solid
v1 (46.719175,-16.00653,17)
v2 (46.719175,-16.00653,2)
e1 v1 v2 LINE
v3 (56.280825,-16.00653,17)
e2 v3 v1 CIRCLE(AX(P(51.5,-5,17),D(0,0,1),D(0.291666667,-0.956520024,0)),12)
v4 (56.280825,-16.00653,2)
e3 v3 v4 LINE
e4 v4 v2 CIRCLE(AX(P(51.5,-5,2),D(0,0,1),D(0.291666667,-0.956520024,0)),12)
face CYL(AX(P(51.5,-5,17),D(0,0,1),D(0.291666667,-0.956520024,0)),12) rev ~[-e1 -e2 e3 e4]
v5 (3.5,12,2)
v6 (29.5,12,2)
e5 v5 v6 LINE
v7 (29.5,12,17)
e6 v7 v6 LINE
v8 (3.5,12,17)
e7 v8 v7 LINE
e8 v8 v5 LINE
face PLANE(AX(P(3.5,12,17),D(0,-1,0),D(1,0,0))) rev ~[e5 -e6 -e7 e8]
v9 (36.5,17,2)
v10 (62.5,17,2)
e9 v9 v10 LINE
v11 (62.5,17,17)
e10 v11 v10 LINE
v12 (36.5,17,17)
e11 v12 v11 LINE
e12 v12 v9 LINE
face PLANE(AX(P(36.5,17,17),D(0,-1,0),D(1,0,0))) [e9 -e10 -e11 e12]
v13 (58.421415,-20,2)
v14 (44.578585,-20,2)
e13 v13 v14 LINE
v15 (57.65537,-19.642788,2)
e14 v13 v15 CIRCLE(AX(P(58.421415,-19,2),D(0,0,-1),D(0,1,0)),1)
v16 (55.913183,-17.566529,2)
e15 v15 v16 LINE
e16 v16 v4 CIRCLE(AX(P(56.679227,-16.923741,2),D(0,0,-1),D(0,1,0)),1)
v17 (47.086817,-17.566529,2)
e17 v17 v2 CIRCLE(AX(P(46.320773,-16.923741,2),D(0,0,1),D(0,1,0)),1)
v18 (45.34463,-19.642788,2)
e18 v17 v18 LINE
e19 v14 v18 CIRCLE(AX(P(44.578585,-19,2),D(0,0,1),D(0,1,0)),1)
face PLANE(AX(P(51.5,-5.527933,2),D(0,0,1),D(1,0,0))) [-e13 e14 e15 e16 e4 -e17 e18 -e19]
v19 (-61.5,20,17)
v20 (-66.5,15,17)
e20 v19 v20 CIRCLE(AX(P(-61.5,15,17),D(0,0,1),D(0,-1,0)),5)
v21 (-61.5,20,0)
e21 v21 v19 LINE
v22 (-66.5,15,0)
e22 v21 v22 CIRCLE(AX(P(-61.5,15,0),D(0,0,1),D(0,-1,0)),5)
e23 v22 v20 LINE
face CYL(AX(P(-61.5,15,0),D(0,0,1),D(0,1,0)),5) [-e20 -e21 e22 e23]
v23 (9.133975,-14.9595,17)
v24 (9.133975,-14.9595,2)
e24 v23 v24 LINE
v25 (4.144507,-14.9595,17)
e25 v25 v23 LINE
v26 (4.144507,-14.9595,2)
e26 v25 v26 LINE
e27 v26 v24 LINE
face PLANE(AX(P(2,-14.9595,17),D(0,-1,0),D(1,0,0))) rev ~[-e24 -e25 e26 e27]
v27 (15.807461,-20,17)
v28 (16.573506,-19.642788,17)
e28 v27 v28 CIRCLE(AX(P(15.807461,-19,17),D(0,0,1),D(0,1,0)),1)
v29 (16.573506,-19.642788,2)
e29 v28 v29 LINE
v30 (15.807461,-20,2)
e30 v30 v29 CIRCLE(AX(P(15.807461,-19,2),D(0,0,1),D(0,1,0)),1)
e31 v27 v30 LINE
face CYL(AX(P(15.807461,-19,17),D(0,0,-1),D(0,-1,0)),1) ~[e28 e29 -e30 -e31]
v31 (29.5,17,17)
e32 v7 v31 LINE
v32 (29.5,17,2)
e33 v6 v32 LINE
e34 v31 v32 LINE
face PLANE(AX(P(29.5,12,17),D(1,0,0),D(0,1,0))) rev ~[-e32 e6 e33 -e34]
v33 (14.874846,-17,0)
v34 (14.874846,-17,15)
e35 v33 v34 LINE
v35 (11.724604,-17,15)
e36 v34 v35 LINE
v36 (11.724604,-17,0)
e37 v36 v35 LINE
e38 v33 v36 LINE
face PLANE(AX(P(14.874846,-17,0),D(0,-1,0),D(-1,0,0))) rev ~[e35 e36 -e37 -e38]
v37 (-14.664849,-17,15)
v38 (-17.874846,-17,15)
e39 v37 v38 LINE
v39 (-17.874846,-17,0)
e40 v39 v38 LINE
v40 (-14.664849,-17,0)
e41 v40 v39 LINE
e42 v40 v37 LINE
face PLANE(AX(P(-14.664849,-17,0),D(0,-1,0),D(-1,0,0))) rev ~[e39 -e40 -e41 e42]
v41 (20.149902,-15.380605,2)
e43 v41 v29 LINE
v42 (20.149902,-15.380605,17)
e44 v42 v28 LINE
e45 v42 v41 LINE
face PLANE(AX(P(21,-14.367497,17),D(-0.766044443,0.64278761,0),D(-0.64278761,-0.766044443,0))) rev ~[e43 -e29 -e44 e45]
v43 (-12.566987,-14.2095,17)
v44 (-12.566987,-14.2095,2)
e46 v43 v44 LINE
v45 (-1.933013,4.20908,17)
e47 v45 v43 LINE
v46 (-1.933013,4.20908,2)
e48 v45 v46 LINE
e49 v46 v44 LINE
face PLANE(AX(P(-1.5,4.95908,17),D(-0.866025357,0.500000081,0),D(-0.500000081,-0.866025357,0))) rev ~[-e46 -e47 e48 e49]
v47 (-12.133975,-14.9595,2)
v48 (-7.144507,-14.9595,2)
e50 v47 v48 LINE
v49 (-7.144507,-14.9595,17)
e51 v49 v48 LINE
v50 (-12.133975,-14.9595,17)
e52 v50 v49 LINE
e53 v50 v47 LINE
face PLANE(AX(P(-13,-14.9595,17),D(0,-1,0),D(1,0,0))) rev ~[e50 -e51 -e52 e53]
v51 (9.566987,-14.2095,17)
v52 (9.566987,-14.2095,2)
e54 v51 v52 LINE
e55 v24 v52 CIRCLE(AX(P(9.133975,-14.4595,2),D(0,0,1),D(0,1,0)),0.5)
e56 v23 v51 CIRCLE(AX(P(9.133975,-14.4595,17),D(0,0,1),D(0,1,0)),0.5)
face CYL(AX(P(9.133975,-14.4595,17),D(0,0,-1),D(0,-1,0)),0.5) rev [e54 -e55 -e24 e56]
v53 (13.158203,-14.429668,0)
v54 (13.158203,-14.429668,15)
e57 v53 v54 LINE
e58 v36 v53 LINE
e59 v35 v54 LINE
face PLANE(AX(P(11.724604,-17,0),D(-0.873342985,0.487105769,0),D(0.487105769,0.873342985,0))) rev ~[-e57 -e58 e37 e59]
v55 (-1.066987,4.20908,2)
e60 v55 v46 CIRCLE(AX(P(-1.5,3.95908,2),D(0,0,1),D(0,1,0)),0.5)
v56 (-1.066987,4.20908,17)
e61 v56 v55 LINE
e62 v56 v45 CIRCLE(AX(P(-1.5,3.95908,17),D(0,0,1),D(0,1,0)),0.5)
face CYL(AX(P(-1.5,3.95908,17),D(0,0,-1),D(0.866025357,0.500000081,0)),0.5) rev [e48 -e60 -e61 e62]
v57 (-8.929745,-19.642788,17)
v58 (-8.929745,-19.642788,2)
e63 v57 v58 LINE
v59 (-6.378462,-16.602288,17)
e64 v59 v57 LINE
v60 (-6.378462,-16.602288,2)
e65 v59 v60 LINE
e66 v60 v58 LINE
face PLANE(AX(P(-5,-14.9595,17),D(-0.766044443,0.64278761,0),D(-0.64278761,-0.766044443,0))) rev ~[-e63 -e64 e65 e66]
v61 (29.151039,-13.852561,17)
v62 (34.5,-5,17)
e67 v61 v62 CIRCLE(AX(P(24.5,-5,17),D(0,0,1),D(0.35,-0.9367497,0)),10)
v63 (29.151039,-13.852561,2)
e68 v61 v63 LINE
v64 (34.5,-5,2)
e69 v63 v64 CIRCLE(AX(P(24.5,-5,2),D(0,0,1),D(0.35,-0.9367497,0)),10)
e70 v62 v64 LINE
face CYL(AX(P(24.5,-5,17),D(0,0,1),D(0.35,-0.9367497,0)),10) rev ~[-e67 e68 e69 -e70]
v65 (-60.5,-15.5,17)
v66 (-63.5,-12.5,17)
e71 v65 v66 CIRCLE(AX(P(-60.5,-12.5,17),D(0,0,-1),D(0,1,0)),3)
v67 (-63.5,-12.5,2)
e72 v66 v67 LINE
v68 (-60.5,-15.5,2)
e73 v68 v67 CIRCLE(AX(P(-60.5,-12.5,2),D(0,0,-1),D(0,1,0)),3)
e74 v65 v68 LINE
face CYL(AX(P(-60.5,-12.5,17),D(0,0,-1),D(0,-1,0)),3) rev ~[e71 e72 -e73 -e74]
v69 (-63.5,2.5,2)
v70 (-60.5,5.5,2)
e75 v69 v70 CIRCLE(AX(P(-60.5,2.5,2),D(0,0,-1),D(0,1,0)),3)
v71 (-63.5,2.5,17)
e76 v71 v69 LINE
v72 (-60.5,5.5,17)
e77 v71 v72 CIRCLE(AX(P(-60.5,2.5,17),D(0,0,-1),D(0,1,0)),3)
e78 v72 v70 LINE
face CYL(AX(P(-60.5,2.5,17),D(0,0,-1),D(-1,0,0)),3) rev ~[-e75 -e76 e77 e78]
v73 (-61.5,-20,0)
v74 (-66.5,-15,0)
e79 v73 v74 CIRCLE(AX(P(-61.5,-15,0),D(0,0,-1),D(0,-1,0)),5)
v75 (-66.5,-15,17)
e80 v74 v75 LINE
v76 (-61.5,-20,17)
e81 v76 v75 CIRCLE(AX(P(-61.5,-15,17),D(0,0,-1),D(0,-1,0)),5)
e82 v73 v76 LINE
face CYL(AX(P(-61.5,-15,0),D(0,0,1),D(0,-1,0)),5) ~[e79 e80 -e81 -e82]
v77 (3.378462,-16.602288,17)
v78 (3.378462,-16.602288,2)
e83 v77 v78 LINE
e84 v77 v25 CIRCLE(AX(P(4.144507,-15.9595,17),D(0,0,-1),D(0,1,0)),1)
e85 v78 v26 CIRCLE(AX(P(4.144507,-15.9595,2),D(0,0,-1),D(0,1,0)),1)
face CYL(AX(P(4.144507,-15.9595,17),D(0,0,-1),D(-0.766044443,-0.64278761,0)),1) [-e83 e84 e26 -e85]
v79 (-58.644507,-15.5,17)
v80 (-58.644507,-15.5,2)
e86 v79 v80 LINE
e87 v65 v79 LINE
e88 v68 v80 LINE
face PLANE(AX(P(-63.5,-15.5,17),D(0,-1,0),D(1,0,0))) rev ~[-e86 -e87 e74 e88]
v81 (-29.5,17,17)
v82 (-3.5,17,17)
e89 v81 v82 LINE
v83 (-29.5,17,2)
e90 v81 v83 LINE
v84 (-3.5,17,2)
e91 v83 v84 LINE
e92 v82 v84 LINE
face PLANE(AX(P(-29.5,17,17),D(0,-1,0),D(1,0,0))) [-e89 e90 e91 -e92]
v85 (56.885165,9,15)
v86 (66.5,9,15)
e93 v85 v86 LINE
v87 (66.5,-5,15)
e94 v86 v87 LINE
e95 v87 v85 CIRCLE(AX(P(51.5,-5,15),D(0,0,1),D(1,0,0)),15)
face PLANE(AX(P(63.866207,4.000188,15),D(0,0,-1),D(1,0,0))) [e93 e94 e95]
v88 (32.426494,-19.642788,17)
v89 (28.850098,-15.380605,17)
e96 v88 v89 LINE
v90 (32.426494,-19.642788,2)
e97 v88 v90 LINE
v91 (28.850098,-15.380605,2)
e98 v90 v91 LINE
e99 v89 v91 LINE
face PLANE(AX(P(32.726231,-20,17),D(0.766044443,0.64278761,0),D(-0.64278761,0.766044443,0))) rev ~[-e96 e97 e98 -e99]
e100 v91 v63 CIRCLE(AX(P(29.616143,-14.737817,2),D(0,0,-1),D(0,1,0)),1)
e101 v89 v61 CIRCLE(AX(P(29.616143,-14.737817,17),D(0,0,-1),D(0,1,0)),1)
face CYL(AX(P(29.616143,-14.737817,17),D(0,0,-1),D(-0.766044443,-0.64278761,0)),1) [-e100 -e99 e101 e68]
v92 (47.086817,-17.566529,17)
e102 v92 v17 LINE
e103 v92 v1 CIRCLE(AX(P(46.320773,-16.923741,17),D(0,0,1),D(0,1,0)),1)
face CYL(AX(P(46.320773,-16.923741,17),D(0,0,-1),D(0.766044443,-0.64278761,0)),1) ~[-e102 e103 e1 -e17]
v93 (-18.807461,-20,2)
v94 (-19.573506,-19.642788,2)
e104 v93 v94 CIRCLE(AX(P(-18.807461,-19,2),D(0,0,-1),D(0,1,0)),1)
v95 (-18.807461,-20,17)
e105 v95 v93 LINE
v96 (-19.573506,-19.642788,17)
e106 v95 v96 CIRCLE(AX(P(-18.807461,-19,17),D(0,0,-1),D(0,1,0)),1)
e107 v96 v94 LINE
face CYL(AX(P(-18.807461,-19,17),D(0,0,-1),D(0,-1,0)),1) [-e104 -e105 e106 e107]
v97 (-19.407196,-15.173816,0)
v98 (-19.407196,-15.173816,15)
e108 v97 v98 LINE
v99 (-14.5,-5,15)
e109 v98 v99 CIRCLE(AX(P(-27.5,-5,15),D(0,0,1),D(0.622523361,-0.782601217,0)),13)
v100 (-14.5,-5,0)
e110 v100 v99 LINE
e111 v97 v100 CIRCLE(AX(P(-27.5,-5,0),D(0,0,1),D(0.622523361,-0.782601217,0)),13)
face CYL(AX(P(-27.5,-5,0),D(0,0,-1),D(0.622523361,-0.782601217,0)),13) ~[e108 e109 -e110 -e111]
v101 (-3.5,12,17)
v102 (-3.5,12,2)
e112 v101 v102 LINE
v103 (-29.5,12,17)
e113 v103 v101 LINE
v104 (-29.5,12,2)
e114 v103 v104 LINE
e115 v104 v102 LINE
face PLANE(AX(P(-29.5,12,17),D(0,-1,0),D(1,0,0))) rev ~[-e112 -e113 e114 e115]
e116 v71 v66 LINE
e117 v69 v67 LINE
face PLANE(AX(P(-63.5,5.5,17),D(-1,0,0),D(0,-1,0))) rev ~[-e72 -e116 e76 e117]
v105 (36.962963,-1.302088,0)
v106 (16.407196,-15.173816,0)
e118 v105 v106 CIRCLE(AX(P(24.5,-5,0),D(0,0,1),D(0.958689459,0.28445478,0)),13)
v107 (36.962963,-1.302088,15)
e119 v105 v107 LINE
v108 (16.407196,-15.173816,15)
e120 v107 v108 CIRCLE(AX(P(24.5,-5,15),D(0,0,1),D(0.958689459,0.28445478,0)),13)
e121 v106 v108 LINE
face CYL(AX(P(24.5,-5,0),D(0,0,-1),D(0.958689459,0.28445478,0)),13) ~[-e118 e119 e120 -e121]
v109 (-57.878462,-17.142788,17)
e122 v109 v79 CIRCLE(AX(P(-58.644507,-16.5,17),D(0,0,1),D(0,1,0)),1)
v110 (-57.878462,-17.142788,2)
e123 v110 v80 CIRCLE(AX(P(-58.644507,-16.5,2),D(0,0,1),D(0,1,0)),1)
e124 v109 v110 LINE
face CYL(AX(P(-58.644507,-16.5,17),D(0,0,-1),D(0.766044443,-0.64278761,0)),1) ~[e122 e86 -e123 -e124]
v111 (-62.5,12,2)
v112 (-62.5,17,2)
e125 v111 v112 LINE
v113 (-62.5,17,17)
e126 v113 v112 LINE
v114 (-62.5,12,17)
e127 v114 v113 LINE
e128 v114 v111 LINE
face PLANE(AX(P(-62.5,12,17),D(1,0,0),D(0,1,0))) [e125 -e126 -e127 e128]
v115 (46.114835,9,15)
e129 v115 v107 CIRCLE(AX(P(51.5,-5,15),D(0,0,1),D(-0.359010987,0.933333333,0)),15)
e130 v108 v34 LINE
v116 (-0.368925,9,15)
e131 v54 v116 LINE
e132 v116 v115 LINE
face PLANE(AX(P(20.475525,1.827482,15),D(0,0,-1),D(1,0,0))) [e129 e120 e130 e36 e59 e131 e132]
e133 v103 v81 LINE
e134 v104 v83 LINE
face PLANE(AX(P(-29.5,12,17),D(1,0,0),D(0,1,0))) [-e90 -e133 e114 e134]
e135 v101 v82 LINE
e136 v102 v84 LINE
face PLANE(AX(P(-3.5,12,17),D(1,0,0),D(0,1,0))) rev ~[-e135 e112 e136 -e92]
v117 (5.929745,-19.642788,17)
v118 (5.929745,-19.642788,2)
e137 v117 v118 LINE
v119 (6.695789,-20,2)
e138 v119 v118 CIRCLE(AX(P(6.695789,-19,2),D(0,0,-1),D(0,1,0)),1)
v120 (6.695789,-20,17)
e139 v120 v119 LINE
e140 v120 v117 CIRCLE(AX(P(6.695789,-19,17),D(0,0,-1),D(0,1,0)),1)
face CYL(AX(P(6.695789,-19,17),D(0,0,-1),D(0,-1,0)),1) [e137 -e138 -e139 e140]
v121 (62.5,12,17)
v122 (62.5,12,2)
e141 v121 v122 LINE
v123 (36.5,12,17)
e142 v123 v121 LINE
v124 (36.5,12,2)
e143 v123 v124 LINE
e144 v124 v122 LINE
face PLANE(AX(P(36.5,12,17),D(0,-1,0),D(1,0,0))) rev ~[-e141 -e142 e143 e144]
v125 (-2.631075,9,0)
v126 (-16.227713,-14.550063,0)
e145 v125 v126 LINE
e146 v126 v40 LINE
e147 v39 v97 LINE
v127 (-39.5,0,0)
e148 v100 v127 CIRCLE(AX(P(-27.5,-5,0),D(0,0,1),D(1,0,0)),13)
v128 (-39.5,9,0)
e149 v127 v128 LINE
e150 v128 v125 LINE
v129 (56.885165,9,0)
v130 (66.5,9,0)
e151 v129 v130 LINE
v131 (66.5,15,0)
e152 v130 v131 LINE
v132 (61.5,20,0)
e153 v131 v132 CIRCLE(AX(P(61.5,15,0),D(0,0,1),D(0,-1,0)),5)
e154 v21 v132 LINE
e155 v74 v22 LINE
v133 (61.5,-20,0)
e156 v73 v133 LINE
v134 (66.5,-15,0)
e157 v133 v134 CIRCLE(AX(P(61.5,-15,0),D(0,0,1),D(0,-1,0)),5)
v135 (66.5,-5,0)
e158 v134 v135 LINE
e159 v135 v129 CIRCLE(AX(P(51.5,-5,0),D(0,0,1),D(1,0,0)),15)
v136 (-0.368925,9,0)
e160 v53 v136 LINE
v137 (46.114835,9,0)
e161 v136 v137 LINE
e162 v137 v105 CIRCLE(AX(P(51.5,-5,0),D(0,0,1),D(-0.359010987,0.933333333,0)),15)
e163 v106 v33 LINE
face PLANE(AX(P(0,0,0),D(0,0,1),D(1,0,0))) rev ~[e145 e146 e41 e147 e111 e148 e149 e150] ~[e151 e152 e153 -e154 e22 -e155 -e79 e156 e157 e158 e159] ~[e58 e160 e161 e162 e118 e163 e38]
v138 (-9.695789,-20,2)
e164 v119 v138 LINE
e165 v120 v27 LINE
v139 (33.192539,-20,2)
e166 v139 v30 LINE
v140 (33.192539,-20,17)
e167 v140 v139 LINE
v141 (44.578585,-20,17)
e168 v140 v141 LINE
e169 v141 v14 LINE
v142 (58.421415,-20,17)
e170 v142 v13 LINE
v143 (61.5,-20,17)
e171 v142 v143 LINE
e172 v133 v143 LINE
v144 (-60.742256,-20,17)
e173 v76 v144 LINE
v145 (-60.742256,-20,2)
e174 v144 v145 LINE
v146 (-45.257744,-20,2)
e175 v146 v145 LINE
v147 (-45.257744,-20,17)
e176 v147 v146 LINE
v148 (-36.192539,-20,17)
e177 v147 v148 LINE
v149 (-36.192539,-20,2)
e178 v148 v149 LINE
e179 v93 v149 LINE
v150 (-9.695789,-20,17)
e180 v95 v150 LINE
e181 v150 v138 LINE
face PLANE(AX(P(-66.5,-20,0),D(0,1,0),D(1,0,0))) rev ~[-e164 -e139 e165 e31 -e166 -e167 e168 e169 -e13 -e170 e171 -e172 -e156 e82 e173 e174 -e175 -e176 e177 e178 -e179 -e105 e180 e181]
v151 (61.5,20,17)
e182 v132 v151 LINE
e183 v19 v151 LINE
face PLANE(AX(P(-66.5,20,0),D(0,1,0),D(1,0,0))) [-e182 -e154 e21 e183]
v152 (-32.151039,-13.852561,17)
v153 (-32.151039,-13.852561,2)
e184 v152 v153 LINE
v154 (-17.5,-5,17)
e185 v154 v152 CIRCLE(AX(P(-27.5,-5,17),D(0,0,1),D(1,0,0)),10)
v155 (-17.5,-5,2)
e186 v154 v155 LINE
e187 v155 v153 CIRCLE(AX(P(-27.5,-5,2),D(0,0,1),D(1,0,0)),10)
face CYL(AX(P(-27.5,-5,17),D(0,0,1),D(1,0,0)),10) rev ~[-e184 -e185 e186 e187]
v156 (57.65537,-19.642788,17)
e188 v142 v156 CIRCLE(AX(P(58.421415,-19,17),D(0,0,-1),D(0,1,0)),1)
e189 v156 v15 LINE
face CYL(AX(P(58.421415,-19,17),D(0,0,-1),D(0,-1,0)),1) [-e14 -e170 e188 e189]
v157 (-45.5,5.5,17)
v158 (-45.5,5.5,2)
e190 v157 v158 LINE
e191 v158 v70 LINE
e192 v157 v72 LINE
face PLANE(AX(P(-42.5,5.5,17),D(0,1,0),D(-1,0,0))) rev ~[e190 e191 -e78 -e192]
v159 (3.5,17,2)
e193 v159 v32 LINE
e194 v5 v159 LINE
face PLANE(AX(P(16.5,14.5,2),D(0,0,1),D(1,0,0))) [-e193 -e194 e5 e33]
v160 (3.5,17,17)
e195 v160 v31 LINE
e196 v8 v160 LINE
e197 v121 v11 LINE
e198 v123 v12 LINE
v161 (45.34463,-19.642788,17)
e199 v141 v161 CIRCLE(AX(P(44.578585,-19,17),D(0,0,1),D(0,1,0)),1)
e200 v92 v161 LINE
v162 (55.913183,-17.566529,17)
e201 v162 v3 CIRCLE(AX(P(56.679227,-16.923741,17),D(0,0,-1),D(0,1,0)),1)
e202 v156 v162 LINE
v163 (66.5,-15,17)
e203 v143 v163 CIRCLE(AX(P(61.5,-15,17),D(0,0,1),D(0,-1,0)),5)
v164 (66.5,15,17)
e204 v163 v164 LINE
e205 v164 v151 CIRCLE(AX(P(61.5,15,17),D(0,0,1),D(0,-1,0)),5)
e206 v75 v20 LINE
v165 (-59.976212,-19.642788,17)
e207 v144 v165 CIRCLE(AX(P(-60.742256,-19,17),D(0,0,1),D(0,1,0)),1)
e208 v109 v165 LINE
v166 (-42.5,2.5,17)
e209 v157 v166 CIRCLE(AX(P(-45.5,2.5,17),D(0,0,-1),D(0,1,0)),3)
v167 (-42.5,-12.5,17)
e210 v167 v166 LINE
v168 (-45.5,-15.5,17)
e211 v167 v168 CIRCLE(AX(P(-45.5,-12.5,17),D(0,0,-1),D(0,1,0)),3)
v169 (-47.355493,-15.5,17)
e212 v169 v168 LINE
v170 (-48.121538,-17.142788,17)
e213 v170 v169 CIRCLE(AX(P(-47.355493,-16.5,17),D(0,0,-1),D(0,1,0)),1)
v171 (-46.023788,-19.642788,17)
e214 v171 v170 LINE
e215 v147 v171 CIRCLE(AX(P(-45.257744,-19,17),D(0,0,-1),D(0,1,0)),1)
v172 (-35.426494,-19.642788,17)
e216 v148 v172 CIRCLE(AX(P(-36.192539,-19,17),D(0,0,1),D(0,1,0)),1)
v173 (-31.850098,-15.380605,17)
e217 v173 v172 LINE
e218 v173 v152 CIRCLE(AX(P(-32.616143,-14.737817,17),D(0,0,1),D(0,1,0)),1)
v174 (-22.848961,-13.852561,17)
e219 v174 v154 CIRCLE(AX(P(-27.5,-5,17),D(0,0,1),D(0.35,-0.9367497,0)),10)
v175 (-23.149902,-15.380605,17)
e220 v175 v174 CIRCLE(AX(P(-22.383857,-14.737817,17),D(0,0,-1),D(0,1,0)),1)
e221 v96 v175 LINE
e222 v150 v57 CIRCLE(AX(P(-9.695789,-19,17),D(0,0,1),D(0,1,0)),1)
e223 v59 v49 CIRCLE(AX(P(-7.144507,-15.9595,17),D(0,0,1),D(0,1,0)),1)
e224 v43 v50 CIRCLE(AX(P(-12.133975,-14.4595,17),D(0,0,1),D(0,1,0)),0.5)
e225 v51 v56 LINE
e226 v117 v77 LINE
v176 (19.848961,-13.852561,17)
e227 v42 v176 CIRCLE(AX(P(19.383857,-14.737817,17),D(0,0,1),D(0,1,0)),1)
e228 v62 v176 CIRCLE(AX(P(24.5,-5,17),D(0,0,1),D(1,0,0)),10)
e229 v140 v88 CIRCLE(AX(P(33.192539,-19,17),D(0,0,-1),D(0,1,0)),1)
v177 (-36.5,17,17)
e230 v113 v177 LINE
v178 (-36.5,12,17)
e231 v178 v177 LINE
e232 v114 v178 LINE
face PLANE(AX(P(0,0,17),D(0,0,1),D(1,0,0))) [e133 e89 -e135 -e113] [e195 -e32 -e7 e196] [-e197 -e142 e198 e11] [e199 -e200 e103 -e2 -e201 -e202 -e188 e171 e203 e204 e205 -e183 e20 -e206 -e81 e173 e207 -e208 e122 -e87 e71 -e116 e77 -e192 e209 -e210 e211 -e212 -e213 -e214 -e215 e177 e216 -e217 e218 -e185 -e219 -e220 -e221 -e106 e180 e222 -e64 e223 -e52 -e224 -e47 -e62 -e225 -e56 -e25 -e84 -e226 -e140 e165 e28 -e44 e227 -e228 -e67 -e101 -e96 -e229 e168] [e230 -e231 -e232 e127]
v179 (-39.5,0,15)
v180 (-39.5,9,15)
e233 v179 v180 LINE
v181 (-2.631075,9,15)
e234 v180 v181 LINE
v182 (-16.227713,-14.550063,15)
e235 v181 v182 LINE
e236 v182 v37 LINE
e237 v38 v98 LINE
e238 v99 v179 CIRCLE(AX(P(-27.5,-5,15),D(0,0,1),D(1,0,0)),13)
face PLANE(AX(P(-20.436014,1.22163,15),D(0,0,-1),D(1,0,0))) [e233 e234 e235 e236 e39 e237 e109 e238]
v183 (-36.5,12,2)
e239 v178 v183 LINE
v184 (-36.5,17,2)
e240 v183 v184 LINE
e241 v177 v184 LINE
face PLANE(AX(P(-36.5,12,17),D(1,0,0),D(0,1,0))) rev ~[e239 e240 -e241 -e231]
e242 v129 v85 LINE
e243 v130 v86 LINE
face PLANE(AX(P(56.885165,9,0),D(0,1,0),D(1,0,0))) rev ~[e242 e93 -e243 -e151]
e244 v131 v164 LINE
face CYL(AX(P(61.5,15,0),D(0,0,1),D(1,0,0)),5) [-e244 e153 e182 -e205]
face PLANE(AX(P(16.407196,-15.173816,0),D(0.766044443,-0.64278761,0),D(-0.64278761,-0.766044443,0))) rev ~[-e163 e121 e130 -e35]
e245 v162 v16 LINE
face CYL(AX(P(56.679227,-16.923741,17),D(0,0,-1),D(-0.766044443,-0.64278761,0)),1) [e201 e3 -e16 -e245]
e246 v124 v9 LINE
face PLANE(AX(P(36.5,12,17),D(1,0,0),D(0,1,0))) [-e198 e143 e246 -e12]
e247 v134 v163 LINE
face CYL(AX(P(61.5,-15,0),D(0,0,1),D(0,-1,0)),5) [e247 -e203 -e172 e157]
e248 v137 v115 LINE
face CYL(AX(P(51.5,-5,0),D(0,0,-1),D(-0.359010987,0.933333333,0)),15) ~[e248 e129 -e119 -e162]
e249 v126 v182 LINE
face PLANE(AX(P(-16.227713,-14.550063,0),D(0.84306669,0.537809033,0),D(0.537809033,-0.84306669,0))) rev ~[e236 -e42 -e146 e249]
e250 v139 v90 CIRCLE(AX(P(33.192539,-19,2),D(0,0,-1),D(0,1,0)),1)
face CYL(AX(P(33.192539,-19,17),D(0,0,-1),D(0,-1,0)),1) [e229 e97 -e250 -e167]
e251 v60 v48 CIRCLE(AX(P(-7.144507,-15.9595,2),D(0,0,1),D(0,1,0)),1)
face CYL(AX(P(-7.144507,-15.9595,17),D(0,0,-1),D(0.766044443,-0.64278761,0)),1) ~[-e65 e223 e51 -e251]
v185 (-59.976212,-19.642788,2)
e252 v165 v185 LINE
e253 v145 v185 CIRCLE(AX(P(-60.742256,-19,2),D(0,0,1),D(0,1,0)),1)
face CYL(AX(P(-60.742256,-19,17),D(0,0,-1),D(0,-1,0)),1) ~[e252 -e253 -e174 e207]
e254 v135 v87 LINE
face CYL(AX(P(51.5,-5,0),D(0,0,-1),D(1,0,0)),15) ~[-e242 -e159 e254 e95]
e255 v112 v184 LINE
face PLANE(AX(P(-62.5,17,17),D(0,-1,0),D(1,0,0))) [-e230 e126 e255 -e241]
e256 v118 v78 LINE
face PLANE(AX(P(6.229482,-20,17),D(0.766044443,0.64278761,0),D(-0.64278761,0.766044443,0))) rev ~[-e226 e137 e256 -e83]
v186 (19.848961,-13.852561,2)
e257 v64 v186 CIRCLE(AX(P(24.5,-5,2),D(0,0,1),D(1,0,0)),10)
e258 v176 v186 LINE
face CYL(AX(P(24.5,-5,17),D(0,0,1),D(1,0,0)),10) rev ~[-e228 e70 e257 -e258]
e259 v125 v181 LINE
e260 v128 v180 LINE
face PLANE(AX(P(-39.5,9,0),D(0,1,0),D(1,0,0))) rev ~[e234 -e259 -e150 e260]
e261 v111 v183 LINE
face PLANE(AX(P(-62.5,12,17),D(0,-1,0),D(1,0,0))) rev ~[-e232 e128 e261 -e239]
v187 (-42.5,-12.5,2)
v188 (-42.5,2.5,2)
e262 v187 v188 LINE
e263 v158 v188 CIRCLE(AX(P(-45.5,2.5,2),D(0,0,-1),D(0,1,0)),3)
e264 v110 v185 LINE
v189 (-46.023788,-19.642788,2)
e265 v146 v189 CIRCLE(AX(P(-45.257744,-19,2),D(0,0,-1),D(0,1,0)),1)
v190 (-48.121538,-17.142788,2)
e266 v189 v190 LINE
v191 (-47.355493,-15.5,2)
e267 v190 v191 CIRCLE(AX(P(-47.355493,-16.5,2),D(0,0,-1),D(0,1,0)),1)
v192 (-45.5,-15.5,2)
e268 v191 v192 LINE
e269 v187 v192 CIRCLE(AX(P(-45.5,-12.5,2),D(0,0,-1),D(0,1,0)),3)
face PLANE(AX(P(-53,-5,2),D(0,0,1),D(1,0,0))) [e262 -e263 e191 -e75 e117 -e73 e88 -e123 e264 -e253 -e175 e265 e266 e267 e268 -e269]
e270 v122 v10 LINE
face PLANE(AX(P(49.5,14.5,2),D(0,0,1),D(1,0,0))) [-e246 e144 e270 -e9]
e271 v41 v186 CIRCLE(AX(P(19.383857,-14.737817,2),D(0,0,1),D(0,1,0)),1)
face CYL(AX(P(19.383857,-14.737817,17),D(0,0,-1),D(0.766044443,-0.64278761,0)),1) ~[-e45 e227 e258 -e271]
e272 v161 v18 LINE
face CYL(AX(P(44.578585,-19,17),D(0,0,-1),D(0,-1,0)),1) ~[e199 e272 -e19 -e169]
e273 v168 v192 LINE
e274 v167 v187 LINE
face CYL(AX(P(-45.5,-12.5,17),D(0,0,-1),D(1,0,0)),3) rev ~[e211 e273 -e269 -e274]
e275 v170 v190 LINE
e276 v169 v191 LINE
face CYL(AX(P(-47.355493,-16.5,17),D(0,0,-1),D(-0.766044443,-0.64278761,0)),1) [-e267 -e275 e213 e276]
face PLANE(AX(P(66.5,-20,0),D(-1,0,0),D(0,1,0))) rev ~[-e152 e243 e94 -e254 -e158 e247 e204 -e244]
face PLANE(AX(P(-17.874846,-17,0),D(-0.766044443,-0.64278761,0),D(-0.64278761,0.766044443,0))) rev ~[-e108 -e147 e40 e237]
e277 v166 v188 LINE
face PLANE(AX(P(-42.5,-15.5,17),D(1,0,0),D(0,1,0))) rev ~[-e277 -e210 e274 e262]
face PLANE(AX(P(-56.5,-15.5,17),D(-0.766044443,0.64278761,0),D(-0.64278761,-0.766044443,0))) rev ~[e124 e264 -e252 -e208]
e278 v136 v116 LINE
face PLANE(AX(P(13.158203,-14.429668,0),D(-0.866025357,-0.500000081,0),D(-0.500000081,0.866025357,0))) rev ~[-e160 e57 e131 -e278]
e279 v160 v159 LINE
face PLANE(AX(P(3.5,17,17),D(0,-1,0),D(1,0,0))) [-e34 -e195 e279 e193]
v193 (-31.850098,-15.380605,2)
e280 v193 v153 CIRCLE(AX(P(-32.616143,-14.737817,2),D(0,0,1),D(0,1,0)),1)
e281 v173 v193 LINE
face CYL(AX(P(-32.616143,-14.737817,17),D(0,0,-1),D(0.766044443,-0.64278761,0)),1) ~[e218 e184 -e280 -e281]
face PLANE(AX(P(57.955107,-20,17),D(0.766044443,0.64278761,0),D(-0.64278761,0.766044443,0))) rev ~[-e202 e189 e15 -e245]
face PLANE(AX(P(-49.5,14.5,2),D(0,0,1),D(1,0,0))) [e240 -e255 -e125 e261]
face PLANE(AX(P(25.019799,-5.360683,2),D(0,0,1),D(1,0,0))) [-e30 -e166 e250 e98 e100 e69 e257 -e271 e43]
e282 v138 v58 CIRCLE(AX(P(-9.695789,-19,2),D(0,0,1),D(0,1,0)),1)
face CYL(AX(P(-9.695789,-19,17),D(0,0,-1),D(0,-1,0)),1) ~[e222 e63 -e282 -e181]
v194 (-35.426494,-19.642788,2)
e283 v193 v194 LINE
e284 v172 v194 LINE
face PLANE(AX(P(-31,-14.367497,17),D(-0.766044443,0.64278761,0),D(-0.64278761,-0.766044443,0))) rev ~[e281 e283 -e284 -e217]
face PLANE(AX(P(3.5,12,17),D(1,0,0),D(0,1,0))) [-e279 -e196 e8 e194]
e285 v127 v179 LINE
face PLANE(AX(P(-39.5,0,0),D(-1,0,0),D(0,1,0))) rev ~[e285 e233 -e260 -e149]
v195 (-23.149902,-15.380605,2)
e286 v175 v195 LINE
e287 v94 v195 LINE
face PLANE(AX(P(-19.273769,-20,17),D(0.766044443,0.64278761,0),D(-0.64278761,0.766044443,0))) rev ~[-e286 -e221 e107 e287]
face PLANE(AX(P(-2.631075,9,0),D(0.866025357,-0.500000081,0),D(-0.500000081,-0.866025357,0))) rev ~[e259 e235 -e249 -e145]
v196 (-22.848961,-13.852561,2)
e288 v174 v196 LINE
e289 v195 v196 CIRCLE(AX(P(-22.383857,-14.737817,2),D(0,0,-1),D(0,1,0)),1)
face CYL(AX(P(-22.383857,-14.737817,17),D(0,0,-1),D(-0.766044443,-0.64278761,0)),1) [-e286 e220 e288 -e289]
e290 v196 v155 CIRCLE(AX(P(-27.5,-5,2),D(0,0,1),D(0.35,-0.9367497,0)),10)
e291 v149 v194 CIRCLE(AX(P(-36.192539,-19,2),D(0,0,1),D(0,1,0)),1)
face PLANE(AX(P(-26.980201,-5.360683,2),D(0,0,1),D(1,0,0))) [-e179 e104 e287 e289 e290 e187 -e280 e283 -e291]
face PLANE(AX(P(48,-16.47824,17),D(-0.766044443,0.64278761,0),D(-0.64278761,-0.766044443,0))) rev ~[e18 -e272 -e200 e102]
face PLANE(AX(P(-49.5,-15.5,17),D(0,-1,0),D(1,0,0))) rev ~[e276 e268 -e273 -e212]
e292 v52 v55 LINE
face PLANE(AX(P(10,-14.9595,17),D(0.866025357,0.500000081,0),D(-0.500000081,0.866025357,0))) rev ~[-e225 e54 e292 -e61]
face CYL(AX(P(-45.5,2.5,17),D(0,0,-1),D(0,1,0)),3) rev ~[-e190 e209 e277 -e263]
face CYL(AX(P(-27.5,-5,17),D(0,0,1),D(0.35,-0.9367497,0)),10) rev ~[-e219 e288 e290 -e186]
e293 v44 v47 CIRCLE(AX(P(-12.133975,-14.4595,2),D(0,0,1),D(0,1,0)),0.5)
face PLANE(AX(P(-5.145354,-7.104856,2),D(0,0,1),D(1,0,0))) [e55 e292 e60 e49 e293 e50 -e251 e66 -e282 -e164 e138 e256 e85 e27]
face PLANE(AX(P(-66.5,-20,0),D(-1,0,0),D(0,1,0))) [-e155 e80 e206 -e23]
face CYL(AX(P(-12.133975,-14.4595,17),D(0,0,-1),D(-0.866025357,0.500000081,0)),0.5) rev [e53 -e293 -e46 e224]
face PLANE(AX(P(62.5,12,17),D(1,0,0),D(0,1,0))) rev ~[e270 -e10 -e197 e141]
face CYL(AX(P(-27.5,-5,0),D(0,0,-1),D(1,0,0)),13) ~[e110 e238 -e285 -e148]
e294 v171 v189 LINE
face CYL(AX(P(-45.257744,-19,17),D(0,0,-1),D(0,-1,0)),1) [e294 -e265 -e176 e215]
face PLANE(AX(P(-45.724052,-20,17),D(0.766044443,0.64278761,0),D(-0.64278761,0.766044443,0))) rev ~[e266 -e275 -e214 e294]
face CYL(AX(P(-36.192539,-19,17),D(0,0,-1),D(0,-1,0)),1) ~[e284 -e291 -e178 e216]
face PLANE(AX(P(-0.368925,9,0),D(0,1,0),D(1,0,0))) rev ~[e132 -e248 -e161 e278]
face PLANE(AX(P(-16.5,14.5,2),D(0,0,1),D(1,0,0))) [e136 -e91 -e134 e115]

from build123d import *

# Parameters (mm, degrees)
F0_W      = 133
F0_H      = 40
F1_DEPTH  = 17
F2_W      = 26
F2_H      = 5
F3_DEPTH  = 15
F4_R      = 1
F5_R      = 0.5
F6_R      = 5
F7_R      = 3
F10_DEPTH = 15


with BuildPart() as f1:
    # F0 (on Top) → F1 (new body)
    with BuildSketch(Plane.XY):
        Rectangle(F0_W, F0_H)
    extrude(amount=F1_DEPTH)

    # F2 (on face) → F3 (cut)
    with BuildSketch(Plane.XY.offset(17)):
        with Locations((-16.5, 14.5)):
            Rectangle(F2_W, F2_H)
        with Locations((16.5, 14.5)):
            Rectangle(F2_W, F2_H)
        with Locations((49.5, 14.5)):
            Rectangle(F2_W, F2_H)
        Polygon((-49.5, -15.5), (-42.5, -15.5), (-42.5, 5.5), (-63.5, 5.5), (-63.5, -15.5), (-56.5, -15.5), align=None)
        with BuildLine():
            ThreePointArc((-17.5, -5), (-33.2008771255, 3.2158383626), (-31, -14.3674969976))
            ThreePointArc((-31, -14.3674969976), (-27.5, -15), (-24, -14.3674969976))
            ThreePointArc((-24, -14.3674969976), (-19.2841616374, -10.7008771255), (-17.5, -5))
        make_face()
        with BuildLine():
            ThreePointArc((34.5, -5), (18.7991228745, 3.2158383626), (21, -14.3674969976))
            ThreePointArc((21, -14.3674969976), (24.5, -15), (28, -14.3674969976))
            ThreePointArc((28, -14.3674969976), (32.7158383626, -10.7008771255), (34.5, -5))
        make_face()
        with BuildLine():
            ThreePointArc((48, -16.4782402832), (51.5, -17), (55, -16.4782402832))
            ThreePointArc((55, -16.4782402832), (61.143650761, -12.1414284285), (63.5, -5))
            ThreePointArc((63.5, -5), (44.3585715715, 4.643650761), (48, -16.4782402832))
        make_face()
        Polygon((-13, -14.9595), (-5, -14.9595), (-1.5, -14.9595), (-1.5, 4.95908), align=None)
        Polygon((-1.5, 4.95908), (-1.5, -14.9595), (2, -14.9595), (10, -14.9595), align=None)
        with Locations((-49.5, 14.5)):
            Rectangle(F2_W, F2_H)
        Polygon((-45.7240516597, -20), (-49.5, -15.5), (-56.5, -15.5), (-60.2759483403, -20), align=None)
        with BuildLine():
            Line((-31, -14.3674969976), (-35.7262311919, -20))
            Line((-35.7262311919, -20), (-19.2737688081, -20))
            Line((-19.2737688081, -20), (-24, -14.3674969976))
            ThreePointArc((-24, -14.3674969976), (-27.5, -15), (-31, -14.3674969976))
        make_face()
        Polygon((-5, -14.9595), (-9.2294816909, -20), (6.2294816909, -20), (2, -14.9595), (-1.5, -14.9595), align=None)
        with BuildLine():
            Line((21, -14.3674969976), (16.2737688081, -20))
            Line((16.2737688081, -20), (32.7262311919, -20))
            Line((32.7262311919, -20), (28, -14.3674969976))
            ThreePointArc((28, -14.3674969976), (24.5, -15), (21, -14.3674969976))
        make_face()
        with BuildLine():
            Line((45.0448927206, -20), (57.9551072794, -20))
            Line((57.9551072794, -20), (55, -16.4782402832))
            ThreePointArc((55, -16.4782402832), (51.5, -17), (48, -16.4782402832))
            Line((48, -16.4782402832), (45.0448927206, -20))
        make_face()
    extrude(amount=-F3_DEPTH, mode=Mode.SUBTRACT)

    # F4
    f4_edges = [f1.edges().sort_by_distance(p)[0] for p in [
        (21, -14.367497, 9.5),
        (28, -14.367497, 9.5),
        (55, -16.47824, 9.5),
        (57.955107, -20, 9.5),
        (45.044893, -20, 9.5),
        (48, -16.47824, 9.5),
        (32.726231, -20, 9.5),
        (16.273769, -20, 9.5),
        (6.229482, -20, 9.5),
        (2, -14.9595, 9.5),
        (-5, -14.9595, 9.5),
        (-9.229482, -20, 9.5),
        (-24, -14.367497, 9.5),
        (-19.273769, -20, 9.5),
        (-31, -14.367497, 9.5),
        (-35.726231, -20, 9.5),
        (-56.5, -15.5, 9.5),
        (-60.275948, -20, 9.5),
        (-49.5, -15.5, 9.5),
        (-45.724052, -20, 9.5),
    ]]
    fillet(f4_edges, radius=F4_R)

    # F5
    f5_edges = [f1.edges().sort_by_distance(p)[0] for p in [
        (-1.5, 4.95908, 9.5),
        (-13, -14.9595, 9.5),
        (10, -14.9595, 9.5),
    ]]
    fillet(f5_edges, radius=F5_R)

    # F6
    f6_edges = [f1.edges().sort_by_distance(p)[0] for p in [
        (-66.5, -20, 8.5),
        (-66.5, 20, 8.5),
        (66.5, -20, 8.5),
        (66.5, 20, 8.5),
    ]]
    fillet(f6_edges, radius=F6_R)

    # F7
    f7_edges = [f1.edges().sort_by_distance(p)[0] for p in [
        (-42.5, 5.5, 9.5),
        (-63.5, 5.5, 9.5),
        (-63.5, -15.5, 9.5),
        (-42.5, -15.5, 9.5),
    ]]
    fillet(f7_edges, radius=F7_R)

    # F9 (on face) → F10 (cut)
    with BuildSketch(Plane(origin=(0, 0, 0), x_dir=(1, 0, 0), z_dir=(0, 0, -1))):
        with BuildLine():
            Line((-39.5, -9), (-2.6310750496, -9))
            Line((-2.6310750496, -9), (-16.2277130067, 14.5500626852))
            Line((-16.2277130067, 14.5500626852), (-14.6648491969, 17))
            Line((-14.6648491969, 17), (-17.8748458336, 17))
            Line((-17.8748458336, 17), (-19.4071963049, 15.1738158207))
            ThreePointArc((-19.4071963049, 15.1738158207), (-15.7908914081, 10.6477230794), (-14.5, 5))
            ThreePointArc((-14.5, 5), (-24.9504902432, -7.747548784), (-39.5, 0))
            Line((-39.5, 0), (-39.5, -9))
        make_face()
        with BuildLine():
            Line((13.1582028158, 14.4296675288), (-0.3689249504, -9))
            Line((-0.3689249504, -9), (46.1148351929, -9))
            ThreePointArc((46.1148351929, -9), (40.2858667229, -4.9620888795), (36.962962963, 1.3020878615))
            ThreePointArc((36.962962963, 1.3020878615), (17.2280826359, -5.7758627427), (16.4071963049, 15.1738158207))
            Line((16.4071963049, 15.1738158207), (14.8748458336, 17))
            Line((14.8748458336, 17), (11.7246036518, 17))
            Line((11.7246036518, 17), (13.1582028158, 14.4296675288))
        make_face()
        with BuildLine():
            ThreePointArc((66.5, 5), (63.8648184804, -3.4918351342), (56.8851648071, -9))
            Line((56.8851648071, -9), (66.5, -9))
            Line((66.5, -9), (66.5, 5))
        make_face()
    extrude(amount=-F10_DEPTH, mode=Mode.SUBTRACT)


solid = f1.part
